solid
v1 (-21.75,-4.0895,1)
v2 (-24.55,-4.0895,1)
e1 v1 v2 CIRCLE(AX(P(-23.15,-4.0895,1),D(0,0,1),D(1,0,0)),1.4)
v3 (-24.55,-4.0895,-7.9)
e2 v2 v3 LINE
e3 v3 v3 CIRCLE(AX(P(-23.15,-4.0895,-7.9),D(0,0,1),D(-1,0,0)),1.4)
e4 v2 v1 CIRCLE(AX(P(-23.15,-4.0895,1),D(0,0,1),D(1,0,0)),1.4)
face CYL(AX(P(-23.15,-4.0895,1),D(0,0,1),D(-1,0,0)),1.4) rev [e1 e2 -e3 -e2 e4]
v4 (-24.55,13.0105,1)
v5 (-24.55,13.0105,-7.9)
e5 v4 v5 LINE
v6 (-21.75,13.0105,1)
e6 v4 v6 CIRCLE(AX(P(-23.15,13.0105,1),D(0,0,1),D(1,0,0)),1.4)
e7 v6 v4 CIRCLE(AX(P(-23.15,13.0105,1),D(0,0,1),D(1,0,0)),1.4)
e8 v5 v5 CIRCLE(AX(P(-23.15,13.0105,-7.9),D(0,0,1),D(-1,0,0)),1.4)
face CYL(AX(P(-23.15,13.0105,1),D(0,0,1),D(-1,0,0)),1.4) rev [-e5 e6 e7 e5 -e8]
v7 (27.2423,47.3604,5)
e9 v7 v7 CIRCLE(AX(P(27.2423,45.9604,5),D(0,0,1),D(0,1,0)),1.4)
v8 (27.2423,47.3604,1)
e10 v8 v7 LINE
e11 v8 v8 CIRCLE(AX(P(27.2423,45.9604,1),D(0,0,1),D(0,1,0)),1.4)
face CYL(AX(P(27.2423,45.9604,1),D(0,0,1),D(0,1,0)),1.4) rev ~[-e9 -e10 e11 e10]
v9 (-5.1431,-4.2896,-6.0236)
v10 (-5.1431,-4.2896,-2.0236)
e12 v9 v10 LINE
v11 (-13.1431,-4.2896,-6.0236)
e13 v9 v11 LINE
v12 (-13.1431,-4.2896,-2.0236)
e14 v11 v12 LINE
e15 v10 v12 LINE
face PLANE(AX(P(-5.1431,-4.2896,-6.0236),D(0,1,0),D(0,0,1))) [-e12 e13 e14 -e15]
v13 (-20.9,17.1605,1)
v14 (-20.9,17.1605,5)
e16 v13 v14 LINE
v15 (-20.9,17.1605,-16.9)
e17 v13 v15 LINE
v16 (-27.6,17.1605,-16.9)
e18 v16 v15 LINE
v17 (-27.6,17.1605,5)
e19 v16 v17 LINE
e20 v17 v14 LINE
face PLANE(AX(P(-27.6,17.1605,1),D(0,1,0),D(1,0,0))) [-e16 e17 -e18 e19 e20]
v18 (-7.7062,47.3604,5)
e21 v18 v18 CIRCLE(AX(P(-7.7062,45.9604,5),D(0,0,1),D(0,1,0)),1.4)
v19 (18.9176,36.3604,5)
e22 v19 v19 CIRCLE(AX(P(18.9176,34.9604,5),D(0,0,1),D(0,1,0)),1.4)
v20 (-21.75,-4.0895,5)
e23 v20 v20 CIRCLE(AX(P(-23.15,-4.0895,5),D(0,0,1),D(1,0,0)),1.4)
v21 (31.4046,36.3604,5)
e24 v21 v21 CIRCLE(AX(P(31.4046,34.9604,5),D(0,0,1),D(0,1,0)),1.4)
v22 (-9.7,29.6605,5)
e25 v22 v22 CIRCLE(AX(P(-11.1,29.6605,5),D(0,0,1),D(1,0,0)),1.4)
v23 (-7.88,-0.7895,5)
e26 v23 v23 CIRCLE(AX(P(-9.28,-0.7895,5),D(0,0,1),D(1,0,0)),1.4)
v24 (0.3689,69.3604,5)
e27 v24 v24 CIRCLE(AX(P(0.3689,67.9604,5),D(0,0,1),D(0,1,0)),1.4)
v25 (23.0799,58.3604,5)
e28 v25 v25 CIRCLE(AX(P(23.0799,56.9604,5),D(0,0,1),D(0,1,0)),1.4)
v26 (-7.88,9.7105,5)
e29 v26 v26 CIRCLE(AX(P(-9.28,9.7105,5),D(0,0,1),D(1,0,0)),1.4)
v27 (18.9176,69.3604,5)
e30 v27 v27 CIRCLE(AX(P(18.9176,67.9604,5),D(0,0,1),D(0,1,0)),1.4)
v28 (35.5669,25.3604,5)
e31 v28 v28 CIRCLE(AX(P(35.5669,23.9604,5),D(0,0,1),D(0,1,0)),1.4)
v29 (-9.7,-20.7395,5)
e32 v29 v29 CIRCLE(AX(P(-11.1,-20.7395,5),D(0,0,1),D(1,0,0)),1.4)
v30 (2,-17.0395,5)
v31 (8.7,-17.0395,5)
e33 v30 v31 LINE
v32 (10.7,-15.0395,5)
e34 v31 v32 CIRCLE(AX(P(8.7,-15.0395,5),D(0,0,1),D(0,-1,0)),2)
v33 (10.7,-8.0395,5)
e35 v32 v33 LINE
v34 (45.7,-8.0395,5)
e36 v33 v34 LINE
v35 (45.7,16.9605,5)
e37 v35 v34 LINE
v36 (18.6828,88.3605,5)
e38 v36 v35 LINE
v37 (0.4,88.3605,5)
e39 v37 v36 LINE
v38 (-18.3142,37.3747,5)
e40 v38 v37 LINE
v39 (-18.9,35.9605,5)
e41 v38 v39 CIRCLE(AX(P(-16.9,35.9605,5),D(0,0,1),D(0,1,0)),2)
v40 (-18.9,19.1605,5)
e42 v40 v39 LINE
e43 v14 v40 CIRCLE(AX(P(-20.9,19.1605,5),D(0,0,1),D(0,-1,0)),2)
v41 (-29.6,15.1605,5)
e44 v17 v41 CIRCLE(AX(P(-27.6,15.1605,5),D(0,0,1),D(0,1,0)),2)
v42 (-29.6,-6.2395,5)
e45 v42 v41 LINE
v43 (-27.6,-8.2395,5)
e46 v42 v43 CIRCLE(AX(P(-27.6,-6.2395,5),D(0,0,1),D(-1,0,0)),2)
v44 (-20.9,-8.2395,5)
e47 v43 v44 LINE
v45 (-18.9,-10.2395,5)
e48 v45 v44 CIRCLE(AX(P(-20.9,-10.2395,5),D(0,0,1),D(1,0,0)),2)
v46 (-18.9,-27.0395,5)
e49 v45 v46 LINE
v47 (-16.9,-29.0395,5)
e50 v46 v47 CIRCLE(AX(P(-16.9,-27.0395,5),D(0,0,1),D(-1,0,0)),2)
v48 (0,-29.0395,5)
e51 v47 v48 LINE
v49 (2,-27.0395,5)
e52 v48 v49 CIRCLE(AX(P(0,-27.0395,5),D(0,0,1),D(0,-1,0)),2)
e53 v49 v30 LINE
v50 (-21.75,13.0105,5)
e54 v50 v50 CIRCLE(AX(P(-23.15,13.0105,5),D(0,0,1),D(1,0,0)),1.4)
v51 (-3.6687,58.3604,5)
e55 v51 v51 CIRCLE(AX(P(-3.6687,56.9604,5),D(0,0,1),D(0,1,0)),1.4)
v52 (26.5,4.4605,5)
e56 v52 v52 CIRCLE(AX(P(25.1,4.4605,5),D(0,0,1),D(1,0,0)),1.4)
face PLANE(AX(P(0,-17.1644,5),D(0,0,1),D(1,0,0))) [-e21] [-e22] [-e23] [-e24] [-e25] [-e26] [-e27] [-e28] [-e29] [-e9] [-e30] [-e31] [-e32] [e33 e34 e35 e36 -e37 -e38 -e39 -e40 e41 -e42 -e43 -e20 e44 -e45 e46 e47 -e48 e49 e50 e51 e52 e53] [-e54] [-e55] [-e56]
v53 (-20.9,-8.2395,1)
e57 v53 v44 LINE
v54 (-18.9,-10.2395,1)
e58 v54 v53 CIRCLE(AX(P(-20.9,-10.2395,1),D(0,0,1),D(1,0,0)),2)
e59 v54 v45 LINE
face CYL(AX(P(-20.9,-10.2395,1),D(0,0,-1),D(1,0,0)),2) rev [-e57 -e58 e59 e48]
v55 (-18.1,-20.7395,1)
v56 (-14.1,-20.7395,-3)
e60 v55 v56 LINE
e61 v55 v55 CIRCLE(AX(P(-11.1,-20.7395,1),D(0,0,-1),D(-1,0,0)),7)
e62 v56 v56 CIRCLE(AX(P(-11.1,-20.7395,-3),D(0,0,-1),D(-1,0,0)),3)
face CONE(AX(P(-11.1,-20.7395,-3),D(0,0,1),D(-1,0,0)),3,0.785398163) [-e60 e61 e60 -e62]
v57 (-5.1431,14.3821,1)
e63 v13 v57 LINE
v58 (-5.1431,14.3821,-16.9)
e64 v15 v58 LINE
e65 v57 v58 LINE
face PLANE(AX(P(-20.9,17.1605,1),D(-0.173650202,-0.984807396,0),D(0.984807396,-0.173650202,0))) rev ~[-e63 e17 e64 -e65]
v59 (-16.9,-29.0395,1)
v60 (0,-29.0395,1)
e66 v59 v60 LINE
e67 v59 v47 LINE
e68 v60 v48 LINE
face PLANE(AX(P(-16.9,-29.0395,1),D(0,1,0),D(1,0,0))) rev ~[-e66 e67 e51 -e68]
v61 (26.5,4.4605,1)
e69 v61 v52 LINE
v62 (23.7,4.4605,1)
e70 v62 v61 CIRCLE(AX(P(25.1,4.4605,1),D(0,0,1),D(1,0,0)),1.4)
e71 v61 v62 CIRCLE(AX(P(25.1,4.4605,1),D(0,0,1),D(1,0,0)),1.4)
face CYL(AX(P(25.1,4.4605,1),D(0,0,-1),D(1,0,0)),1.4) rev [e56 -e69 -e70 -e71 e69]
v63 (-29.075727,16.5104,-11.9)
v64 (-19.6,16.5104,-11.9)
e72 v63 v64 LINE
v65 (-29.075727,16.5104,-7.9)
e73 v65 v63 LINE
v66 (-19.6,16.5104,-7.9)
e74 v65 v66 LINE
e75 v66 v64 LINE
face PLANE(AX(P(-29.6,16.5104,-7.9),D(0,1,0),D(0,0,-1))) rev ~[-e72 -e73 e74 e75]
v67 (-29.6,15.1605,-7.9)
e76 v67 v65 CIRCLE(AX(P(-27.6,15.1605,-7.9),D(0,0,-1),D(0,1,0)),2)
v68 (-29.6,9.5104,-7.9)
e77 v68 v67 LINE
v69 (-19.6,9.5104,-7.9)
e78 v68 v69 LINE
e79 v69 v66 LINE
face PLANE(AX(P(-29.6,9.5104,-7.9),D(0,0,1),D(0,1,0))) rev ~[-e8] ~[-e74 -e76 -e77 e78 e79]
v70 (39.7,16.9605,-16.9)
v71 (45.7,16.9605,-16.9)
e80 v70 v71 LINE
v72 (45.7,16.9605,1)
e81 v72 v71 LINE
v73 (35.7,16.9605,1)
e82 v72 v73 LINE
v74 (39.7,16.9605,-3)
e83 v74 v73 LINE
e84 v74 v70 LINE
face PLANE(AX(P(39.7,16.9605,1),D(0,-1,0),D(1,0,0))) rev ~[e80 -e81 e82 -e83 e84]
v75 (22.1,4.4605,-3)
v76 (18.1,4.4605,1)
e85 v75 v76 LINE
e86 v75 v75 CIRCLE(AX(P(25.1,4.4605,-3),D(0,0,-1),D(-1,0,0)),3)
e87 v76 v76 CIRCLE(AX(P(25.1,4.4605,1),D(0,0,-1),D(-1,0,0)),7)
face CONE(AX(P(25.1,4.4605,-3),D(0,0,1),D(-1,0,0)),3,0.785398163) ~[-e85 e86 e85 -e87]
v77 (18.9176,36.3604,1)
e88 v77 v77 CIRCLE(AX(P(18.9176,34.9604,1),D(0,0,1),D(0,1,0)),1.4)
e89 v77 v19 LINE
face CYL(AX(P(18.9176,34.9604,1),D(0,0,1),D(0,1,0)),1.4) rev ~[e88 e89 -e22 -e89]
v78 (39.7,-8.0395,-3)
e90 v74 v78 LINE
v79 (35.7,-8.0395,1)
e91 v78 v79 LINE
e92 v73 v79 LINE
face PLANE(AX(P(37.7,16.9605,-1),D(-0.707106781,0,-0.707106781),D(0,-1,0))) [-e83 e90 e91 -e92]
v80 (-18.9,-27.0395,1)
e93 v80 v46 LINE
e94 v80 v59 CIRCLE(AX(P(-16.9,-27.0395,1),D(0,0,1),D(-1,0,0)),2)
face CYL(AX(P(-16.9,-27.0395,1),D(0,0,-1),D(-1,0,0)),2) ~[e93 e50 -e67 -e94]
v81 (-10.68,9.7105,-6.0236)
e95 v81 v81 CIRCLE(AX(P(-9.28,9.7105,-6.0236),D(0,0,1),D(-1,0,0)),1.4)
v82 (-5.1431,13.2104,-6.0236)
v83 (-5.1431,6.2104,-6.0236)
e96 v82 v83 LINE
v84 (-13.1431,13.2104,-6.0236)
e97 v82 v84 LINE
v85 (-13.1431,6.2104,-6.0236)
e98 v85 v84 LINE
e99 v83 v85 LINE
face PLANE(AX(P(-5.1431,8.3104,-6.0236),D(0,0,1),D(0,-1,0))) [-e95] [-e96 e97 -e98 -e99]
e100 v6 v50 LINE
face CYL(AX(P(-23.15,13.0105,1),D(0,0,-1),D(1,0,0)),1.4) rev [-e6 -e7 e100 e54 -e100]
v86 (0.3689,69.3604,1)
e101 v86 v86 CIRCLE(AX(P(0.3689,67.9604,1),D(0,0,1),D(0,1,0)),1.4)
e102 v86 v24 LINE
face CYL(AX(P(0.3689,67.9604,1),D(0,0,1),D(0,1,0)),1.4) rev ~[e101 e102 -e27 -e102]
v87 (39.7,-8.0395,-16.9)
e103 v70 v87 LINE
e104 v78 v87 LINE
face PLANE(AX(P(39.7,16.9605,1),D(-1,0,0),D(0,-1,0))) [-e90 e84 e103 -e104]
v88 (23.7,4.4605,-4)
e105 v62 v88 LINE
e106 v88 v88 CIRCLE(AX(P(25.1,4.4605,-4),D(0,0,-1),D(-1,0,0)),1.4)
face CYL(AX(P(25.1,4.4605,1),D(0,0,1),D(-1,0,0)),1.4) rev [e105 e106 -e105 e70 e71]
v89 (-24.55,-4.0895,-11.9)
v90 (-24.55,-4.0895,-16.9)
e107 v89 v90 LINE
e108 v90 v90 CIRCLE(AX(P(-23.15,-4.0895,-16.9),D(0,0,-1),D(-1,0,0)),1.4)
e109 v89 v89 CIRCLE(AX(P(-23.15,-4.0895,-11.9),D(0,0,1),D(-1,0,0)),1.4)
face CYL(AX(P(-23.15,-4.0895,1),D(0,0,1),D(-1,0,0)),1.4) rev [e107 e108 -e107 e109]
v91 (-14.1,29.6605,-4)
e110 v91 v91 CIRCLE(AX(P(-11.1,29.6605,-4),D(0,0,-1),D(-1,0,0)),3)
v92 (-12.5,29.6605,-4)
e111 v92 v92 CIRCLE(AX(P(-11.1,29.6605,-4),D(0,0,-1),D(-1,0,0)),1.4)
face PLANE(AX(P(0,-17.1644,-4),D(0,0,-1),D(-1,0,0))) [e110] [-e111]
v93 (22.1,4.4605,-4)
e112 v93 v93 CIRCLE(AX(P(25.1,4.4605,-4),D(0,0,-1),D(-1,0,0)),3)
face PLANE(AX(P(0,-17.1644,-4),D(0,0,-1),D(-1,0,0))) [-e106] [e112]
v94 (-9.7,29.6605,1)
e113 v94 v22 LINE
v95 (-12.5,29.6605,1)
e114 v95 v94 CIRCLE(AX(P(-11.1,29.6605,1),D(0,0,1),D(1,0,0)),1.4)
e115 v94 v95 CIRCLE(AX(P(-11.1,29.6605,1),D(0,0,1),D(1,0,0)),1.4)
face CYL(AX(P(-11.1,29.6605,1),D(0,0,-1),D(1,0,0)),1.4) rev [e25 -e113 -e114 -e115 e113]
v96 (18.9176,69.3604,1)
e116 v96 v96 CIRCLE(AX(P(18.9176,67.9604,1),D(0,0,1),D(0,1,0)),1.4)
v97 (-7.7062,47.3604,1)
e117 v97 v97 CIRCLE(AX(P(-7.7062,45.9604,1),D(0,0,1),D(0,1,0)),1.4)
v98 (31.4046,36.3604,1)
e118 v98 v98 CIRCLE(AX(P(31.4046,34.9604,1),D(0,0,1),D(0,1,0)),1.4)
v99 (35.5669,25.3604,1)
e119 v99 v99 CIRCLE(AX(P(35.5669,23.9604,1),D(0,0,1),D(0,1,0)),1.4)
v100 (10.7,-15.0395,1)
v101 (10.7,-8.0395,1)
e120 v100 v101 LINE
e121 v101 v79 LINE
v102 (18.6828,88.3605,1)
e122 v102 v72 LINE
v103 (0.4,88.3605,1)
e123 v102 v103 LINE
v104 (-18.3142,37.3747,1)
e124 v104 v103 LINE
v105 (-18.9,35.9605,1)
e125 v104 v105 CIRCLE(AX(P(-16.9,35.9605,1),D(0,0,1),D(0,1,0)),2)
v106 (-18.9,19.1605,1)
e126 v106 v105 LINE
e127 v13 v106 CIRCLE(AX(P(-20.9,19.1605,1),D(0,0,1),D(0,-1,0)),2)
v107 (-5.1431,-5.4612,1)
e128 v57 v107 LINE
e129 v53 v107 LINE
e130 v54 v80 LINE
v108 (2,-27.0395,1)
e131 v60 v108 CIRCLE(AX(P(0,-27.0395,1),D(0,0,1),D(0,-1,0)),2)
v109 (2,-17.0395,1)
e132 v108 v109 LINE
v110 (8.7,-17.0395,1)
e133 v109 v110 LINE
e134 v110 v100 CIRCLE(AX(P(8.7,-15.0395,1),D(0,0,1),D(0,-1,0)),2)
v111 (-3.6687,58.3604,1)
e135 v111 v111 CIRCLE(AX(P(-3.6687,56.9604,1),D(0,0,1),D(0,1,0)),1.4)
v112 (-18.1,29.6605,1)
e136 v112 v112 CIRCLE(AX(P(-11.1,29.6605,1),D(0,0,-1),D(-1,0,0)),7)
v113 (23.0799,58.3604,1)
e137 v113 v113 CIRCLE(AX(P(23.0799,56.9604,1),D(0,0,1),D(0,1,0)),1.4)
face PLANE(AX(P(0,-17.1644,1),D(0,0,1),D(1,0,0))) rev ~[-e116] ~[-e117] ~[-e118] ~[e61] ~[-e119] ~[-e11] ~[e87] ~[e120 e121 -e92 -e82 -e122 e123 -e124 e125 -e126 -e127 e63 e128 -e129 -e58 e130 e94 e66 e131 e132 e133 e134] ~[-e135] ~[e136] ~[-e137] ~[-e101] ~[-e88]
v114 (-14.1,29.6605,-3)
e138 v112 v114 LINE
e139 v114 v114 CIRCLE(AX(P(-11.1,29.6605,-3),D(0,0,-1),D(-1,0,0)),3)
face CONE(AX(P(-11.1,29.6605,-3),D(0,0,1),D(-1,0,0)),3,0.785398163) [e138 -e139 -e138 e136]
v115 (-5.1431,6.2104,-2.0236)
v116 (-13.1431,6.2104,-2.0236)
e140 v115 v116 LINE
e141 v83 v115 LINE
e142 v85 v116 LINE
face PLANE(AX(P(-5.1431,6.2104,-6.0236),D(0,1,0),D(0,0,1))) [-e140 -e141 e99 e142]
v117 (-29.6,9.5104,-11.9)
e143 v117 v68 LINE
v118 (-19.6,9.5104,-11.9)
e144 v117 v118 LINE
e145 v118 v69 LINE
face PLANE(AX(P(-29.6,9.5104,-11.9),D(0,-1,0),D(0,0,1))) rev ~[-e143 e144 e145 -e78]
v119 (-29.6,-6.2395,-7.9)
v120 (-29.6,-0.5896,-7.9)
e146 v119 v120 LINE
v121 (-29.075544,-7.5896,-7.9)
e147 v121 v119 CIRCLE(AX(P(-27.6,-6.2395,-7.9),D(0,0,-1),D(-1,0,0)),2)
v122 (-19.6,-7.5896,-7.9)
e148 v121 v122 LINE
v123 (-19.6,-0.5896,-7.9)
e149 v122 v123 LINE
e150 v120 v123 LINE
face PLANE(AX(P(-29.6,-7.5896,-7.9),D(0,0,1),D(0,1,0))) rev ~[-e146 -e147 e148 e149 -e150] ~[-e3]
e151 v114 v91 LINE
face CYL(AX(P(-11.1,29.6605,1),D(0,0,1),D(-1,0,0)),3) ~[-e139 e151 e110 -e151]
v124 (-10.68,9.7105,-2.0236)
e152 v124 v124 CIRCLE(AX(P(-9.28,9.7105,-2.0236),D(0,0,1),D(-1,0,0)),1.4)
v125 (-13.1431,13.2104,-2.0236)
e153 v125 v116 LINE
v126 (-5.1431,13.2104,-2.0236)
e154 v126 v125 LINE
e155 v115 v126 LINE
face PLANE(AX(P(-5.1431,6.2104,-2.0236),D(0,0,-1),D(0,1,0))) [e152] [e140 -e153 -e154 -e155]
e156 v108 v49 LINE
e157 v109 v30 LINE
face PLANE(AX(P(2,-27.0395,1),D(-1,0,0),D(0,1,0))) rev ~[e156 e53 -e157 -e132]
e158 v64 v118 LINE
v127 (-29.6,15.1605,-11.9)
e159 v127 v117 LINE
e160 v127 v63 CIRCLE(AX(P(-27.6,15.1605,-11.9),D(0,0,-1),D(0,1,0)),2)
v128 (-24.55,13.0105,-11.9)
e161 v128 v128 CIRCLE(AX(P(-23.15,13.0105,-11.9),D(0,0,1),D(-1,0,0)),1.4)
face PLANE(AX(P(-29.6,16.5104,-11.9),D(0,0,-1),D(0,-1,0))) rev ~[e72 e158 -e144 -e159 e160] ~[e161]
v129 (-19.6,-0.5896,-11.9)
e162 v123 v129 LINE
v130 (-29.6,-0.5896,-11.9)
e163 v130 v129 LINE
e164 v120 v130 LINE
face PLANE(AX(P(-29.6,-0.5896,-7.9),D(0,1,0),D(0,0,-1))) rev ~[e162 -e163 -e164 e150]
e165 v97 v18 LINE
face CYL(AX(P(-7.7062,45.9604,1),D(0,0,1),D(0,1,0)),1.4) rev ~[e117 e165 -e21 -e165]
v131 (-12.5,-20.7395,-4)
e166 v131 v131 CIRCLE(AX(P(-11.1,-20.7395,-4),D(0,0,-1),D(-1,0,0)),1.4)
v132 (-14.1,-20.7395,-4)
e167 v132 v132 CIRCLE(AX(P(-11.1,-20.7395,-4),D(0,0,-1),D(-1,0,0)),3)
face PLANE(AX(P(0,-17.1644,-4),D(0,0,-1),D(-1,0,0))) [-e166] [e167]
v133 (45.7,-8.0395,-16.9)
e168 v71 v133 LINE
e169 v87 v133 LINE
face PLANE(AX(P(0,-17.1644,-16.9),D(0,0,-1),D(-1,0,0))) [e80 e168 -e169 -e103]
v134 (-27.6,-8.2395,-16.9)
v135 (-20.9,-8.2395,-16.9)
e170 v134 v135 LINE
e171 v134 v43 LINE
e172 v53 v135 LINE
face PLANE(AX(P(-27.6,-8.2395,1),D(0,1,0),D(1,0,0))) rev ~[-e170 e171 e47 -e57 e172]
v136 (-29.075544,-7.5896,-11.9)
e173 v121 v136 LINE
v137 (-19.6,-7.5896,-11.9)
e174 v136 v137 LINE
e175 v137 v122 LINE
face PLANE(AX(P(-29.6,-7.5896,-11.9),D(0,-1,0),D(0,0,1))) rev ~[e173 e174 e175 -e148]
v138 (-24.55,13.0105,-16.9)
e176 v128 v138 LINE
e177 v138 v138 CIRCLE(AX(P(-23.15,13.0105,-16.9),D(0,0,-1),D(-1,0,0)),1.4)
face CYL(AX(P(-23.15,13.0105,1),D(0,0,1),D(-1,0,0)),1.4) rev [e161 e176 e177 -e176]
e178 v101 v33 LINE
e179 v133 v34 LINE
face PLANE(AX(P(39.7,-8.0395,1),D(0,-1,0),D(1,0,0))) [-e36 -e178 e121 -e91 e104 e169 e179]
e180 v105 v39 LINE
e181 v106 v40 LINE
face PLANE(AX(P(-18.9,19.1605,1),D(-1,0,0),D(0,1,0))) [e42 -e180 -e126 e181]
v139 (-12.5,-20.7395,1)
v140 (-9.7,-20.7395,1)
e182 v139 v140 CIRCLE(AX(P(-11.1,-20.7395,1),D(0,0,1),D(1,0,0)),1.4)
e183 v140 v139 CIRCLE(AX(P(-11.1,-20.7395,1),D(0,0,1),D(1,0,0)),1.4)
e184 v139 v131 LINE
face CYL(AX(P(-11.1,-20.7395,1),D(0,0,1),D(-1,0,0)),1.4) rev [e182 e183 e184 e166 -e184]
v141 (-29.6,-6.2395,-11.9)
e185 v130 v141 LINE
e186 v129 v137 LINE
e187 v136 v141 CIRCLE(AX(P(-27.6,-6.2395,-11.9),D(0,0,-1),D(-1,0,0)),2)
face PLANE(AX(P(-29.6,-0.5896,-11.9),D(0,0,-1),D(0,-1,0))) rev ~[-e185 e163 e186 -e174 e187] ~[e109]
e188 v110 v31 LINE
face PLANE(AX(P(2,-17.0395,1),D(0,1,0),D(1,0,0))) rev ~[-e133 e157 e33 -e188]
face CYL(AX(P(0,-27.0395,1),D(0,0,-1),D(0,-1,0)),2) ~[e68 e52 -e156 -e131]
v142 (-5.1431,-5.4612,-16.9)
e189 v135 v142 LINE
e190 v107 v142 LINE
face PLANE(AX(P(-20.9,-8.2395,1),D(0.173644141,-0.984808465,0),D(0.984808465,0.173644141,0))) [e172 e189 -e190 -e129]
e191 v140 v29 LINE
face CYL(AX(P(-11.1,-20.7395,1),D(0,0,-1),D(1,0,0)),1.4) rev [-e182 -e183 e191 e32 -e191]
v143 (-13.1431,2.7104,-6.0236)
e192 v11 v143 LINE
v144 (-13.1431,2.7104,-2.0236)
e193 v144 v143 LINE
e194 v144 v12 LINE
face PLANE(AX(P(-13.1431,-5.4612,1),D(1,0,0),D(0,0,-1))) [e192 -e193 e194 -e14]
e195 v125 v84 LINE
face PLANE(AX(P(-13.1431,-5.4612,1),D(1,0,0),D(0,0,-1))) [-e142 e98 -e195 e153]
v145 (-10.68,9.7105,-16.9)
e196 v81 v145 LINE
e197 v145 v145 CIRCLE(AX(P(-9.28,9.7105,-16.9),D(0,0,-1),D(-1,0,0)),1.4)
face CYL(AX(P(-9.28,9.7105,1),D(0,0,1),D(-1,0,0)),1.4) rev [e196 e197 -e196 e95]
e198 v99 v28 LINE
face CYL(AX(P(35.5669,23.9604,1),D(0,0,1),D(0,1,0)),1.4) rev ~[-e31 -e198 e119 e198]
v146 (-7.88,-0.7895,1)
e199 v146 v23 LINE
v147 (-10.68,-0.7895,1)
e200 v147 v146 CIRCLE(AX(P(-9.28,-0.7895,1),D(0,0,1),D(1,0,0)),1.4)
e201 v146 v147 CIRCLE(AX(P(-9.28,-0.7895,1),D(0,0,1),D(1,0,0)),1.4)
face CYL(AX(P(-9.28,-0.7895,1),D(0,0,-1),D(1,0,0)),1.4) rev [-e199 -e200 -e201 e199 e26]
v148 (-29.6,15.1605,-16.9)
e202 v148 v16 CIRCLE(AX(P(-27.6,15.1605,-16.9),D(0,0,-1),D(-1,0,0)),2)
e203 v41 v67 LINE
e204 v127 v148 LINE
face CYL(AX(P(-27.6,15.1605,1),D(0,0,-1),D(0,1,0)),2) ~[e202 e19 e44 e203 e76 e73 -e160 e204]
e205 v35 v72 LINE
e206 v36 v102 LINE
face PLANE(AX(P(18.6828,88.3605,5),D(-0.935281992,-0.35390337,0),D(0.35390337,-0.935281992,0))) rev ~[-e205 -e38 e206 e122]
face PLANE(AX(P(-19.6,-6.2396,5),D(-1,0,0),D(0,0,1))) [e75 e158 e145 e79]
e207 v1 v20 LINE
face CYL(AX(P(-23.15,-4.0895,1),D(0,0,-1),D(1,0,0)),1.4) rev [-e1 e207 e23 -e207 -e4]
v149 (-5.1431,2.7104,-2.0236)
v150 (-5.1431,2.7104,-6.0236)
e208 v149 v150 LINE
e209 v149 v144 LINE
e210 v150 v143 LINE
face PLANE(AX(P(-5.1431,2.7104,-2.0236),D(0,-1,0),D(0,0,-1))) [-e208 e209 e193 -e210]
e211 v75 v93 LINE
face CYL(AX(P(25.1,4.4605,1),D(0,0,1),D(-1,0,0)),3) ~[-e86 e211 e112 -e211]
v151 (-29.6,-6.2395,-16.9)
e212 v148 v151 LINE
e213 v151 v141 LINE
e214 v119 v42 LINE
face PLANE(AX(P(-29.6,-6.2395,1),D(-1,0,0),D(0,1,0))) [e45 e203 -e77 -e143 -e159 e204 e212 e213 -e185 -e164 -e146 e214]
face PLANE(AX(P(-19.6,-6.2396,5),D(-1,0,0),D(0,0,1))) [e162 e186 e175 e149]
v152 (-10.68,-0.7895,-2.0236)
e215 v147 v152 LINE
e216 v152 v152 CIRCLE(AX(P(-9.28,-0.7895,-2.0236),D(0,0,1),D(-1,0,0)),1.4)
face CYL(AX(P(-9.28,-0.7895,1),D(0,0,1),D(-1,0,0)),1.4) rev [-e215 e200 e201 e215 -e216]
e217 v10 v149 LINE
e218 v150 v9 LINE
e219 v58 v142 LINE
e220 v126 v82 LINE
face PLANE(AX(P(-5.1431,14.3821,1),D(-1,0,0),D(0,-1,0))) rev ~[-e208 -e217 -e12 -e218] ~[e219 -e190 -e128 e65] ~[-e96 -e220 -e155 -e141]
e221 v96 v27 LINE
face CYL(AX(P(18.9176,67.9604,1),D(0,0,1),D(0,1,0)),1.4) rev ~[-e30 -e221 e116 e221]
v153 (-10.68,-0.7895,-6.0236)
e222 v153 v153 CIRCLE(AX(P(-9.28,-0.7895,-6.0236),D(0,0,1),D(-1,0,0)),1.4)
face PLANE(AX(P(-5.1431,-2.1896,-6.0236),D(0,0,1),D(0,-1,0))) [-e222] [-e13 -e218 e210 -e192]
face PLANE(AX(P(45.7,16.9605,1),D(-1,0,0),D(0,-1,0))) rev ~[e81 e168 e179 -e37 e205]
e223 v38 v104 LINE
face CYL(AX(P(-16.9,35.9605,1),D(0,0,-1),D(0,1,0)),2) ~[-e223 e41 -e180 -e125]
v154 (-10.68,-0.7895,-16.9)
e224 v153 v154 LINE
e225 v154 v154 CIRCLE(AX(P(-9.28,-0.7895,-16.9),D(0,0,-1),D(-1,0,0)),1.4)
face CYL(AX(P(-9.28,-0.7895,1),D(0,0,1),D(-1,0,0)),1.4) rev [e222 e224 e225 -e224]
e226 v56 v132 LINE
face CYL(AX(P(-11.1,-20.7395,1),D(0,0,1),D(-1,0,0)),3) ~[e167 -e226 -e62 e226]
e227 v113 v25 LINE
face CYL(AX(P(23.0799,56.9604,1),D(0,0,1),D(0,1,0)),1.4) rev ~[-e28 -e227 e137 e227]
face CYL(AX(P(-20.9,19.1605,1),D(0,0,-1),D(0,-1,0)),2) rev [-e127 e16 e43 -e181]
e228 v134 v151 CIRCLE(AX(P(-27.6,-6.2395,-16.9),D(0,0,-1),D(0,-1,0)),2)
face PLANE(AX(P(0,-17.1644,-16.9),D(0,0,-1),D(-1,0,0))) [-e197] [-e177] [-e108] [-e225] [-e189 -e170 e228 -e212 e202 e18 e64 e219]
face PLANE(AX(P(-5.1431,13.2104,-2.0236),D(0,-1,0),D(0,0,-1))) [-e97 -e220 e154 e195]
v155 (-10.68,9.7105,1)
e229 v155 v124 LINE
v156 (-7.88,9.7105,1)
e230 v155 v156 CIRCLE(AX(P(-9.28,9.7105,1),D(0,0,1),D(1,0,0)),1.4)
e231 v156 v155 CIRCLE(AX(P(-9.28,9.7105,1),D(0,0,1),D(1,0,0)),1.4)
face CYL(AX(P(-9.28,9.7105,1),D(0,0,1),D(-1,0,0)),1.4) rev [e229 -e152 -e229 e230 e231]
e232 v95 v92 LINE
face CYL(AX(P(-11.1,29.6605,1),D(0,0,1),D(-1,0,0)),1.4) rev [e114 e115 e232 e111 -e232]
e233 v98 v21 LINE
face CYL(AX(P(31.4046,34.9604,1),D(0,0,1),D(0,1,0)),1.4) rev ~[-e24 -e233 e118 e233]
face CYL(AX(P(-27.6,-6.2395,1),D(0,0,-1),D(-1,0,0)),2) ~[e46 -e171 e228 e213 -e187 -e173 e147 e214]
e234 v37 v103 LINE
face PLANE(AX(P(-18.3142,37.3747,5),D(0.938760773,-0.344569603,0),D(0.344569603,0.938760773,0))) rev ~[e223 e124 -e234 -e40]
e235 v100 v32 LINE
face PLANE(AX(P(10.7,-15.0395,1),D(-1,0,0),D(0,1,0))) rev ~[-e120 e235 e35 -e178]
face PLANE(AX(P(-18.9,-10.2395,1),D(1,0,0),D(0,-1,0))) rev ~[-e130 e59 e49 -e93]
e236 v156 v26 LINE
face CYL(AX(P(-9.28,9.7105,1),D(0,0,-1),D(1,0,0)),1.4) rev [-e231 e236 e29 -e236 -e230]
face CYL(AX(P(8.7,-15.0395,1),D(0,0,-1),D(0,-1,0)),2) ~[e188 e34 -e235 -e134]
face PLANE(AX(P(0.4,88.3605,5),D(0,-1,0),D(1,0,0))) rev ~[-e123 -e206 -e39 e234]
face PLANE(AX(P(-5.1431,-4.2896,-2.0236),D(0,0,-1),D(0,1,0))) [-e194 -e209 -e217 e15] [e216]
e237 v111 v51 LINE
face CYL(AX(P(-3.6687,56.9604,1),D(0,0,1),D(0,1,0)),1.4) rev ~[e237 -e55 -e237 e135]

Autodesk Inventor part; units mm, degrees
ref_plane "YZ Plane" through (0, 0, 0) normal (1, 0, 0) x (0, 1, 0)
ref_plane "Work Plane1" through (0, -17.1644, 1) normal (0, 0, 1) x (1, 0, 0)
sketch "Sketch1" plane through (0, -17.1644, 1) normal (0, 0, 1) x (1, 0, 0)
  circle A0 centre (25.1, 21.6249) radius 2.5 projected
  circle A1 centre (-23.15, 13.0749) radius 1.6 projected
  circle A2 centre (-9.28, 16.3749) radius 1.6 projected
  circle A3 centre (-11.1, -3.5751) radius 2.5 projected
  circle A4 centre (-11.1, 46.8249) radius 2.5 projected
  circle A5 centre (-9.28, 26.8749) radius 1.6 projected
  circle A6 centre (-23.15, 30.1749) radius 1.6 projected
  line L0 (-29.6, 10.9249) -> (-29.6, 32.3249) projected
  arc A7 (-29.6, 10.9249) -> (-27.6, 8.9249) centre (-27.6, 10.9249) ccw projected
  line L1 (-27.6, 8.9249) -> (-20.9, 8.9249) projected
  arc A8 (-18.9, 6.9249) -> (-20.9, 8.9249) centre (-20.9, 6.9249) ccw projected
  line L2 (-18.9, 6.9249) -> (-18.9, -9.8751) projected
  arc A9 (-18.9, -9.8751) -> (-16.9, -11.8751) centre (-16.9, -9.8751) ccw projected
  line L3 (-16.9, -11.8751) -> (0, -11.8751) projected
  arc A10 (0, -11.8751) -> (2, -9.8751) centre (0, -9.8751) ccw projected
  line L4 (2, -9.8751) -> (2, 0.1249) projected
  line L5 (2, 0.1249) -> (8.7, 0.1249) projected
  arc A11 (8.7, 0.1249) -> (10.7, 2.1249) centre (8.7, 2.1249) ccw projected
  line L6 (10.7, 2.1249) -> (10.7, 9.1249) projected
  line L7 (10.7, 9.1249) -> (45.7, 9.1249) projected
  line L8 (45.7, 34.1249) -> (45.7, 9.1249) projected
  line L9 (10.7, 34.1249) -> (45.7, 34.1249) projected
  line L10 (10.7, 41.1249) -> (10.7, 34.1249) projected
  arc A12 (10.7, 41.1249) -> (8.7, 43.1249) centre (8.7, 41.1249) ccw projected
  line L11 (2, 43.1249) -> (8.7, 43.1249) projected
  line L12 (2, 53.1249) -> (2, 43.1249) projected
  arc A13 (2, 53.1249) -> (0, 55.1249) centre (0, 53.1249) ccw projected
  line L13 (-16.9, 55.1249) -> (0, 55.1249) projected
  arc A14 (-16.9, 55.1249) -> (-18.9, 53.1249) centre (-16.9, 53.1249) ccw projected
  line L14 (-18.9, 36.3249) -> (-18.9, 53.1249) projected
  arc A15 (-20.9, 34.3249) -> (-18.9, 36.3249) centre (-20.9, 36.3249) ccw projected
  line L15 (-27.6, 34.3249) -> (-20.9, 34.3249) projected
  arc A16 (-27.6, 34.3249) -> (-29.6, 32.3249) centre (-27.6, 32.3249) ccw projected
  circle A17 centre (-11.1, -3.5751) radius 1.4
  circle A18 centre (-11.1, 46.8249) radius 1.4
  circle A19 centre (25.1, 21.6249) radius 1.4
  circle A20 centre (-23.15, 13.0749) radius 1.4
  circle A21 centre (-23.15, 30.1749) radius 1.4
  circle A22 centre (-9.28, 16.3749) radius 1.4
  circle A23 centre (-9.28, 26.8749) radius 1.4
  point P0 (0, 17.1644)
  dimension "d0" = 2.8
  dimension "d1" = 2.8
  dimension "d2" = 2.8
  dimension "d17" = 2.8
  dimension "d18" = 2.8
  dimension "d19" = 2.8
  dimension "d20" = 2.8
extrude "Extrusion1" add sketch "Sketch1" along normal blind 4 contours A0 | A1 | A2 | A3 | A4 | A5 | A6 | L0 A16 L15 A15 L14 A14 L13 A13 L12 L11 A12 L10 L9 L8 L7 L6 A11 L5 L4 A10 L3 A9 L2 A8 L1 A7
sketch "Sketch2" plane through (0, -17.1644, 1) normal (0, 0, -1) x (-1, 0, 0)
  line L0 (29.6, 32.3249) -> (29.6, 10.9249) projected
  arc A0 (29.6, 32.3249) -> (27.6, 34.3249) centre (27.6, 32.3249) ccw projected
  line L1 (27.6, 34.3249) -> (20.9, 34.3249) projected
  arc A1 (18.9, 36.3249) -> (20.9, 34.3249) centre (20.9, 36.3249) ccw projected
  line L2 (18.9, 36.3249) -> (18.9, 53.1249) projected
  arc A2 (18.9, 53.1249) -> (16.9, 55.1249) centre (16.9, 53.1249) ccw projected
  line L3 (16.9, 55.1249) -> (0, 55.1249) projected
  arc A3 (0, 55.1249) -> (-2, 53.1249) centre (0, 53.1249) ccw projected
  line L4 (-2, 53.1249) -> (-2, 43.1249) projected
  line L5 (-2, 43.1249) -> (-8.7, 43.1249) projected
  arc A4 (-8.7, 43.1249) -> (-10.7, 41.1249) centre (-8.7, 41.1249) ccw projected
  line L6 (-10.7, 41.1249) -> (-10.7, 34.1249) projected
  line L7 (-10.7, 34.1249) -> (-45.7, 34.1249) projected
  line L8 (-45.7, 34.1249) -> (-45.7, 9.1249) projected
  line L9 (-10.7, 9.1249) -> (-45.7, 9.1249) projected
  line L10 (-10.7, 2.1249) -> (-10.7, 9.1249) projected
  arc A5 (-10.7, 2.1249) -> (-8.7, 0.1249) centre (-8.7, 2.1249) ccw projected
  line L11 (-2, 0.1249) -> (-8.7, 0.1249) projected
  line L12 (-2, -9.8751) -> (-2, 0.1249) projected
  arc A6 (-2, -9.8751) -> (0, -11.8751) centre (0, -9.8751) ccw projected
  line L13 (16.9, -11.8751) -> (0, -11.8751) projected
  arc A7 (16.9, -11.8751) -> (18.9, -9.8751) centre (16.9, -9.8751) ccw projected
  line L14 (18.9, 6.9249) -> (18.9, -9.8751) projected
  arc A8 (20.9, 8.9249) -> (18.9, 6.9249) centre (20.9, 6.9249) ccw projected
  line L15 (27.6, 8.9249) -> (20.9, 8.9249) projected
  arc A9 (27.6, 8.9249) -> (29.6, 10.9249) centre (27.6, 10.9249) ccw projected
  circle A10 centre (23.15, 13.0749) radius 1.6 projected
  circle A11 centre (9.28, 16.3749) radius 1.6 projected
  circle A12 centre (11.1, -3.5751) radius 2.5 projected
  circle A13 centre (11.1, 46.8249) radius 2.5 projected
  circle A14 centre (9.28, 26.8749) radius 1.6 projected
  circle A15 centre (23.15, 30.1749) radius 1.6 projected
  circle A16 centre (-25.1, 21.6249) radius 2.5 projected
  line L16 (20.9, 8.9249) -> (5.1431, 11.7032)
  line L17 (20.9, 8.9249) -> (36.9, 8.9249) construction
  line L18 (20.9, 34.3249) -> (5.1431, 31.5465)
  line L19 (20.9, 34.3249) -> (36.9, 34.3249) construction
  line L20 (5.1431, 31.5465) -> (5.1431, 11.7032)
  circle A17 centre (23.15, 30.1749) radius 1.4 projected
  circle A18 centre (23.15, 13.0749) radius 1.4 projected
  circle A19 centre (9.28, 16.3749) radius 1.4 projected
  circle A20 centre (9.28, 26.8749) radius 1.4 projected
  point P0 (0, 17.1644)
  dimension "d5" = 16
  dimension "d6" = 170
  dimension "d7" = 16
  dimension "d8" = 170
ref_plane "Work Plane2" through (-50.9629, -34.1365, -16.9) normal (0, 0, 1) x (0.751, -0.6603, 0)
extrude "Extrusion2" add sketch "Sketch2" along normal up to surface (17.9 mm away) contours L0 A9 L15 L16 L20 L18 L1 A0 | A10 | A11 | A14 | A15
sketch "Sketch3" plane through (-5.1431, -5.4612, 1) normal (1, 0, 0) x (0, 0, -1)
  line L0 (7.0236, 11.6716) -> (3.0236, 11.6716)
  line L1 (3.0236, 11.6716) -> (3.0236, 18.6716)
  line L2 (3.0236, 18.6716) -> (7.0236, 18.6716)
  line L3 (7.0236, 18.6716) -> (7.0236, 11.6716)
  line L4 (7.0236, 11.6716) -> (3.0236, 18.6716) construction
  line L5 (3.0236, 11.6716) -> (7.0236, 18.6716) construction
  line L6 (7.0236, 1.1716) -> (3.0236, 1.1716)
  line L7 (3.0236, 1.1716) -> (3.0236, 8.1716)
  line L8 (3.0236, 8.1716) -> (7.0236, 8.1716)
  line L9 (7.0236, 8.1716) -> (7.0236, 1.1716)
  line L10 (7.0236, 1.1716) -> (3.0236, 8.1716) construction
  line L11 (3.0236, 1.1716) -> (7.0236, 8.1716) construction
  line L12 (17.9, 3.2716) -> (-4, 3.2716) projected
  line L13 (17.9, 6.0716) -> (-4, 6.0716) projected
  line L14 (17.9, 13.7716) -> (-4, 13.7716) projected
  line L15 (17.9, 16.5716) -> (-4, 16.5716) projected
  point P0 (1, 5.4612)
  point P1 (5.0236, 15.1716)
  point P2 (5.0236, 4.6716)
  dimension "d11" = 4
  dimension "d12" = 7
  dimension "d13" = 4
  dimension "d14" = 7
  dimension "d22" = 1.4
  dimension "d23" = 1.4
extrude "Extrusion3" cut sketch "Sketch3" against normal blind 8
sketch "Sketch4" plane through (-29.6, -6.2396, 5) normal (-1, 0, 0) x (0, 0, 1)
  line L0 (-19.9, 20.85) -> (-24.6, 20.85)
  line L1 (-19.9, 17.65) -> (-24.6, 17.65)
  line L2 (-24.6, 3.75) -> (-19.9, 3.75)
  line L3 (-24.6, 0.55) -> (-19.9, 0.55)
  line L4 (-12.9, 22.75) -> (-16.9, 22.75)
  line L5 (-16.9, 22.75) -> (-16.9, 15.75)
  line L6 (-16.9, 15.75) -> (-12.9, 15.75)
  line L7 (-12.9, 15.75) -> (-12.9, 22.75)
  line L8 (-12.9, 22.75) -> (-16.9, 15.75) construction
  line L9 (-16.9, 22.75) -> (-12.9, 15.75) construction
  line L10 (-16.9, -1.35) -> (-12.9, -1.35)
  line L11 (-12.9, -1.35) -> (-12.9, 5.65)
  line L12 (-12.9, 5.65) -> (-16.9, 5.65)
  line L13 (-16.9, 5.65) -> (-16.9, -1.35)
  line L14 (-16.9, -1.35) -> (-12.9, 5.65) construction
  line L15 (-12.9, -1.35) -> (-16.9, 5.65) construction
  line L16 (-21.9, 0) -> (-21.9, 21.4) projected
  point P0 (-5, 6.2396)
  point P1 (-14.9, 19.25)
  point P2 (-14.9, 2.15)
  dimension "d26" = 4
  dimension "d27" = 7
  dimension "d28" = 4
  dimension "d29" = 7
  dimension "d30" = 1.6
  dimension "d31" = 1.6
  dimension "d32" = 5
  dimension "d33" = 5
extrude "Extrusion4" cut sketch "Sketch4" against normal blind 10
sketch "Sketch5" plane through (0, -17.1644, 1) normal (0, 0, -1) x (-1, 0, 0)
  circle A0 centre (11.1, 46.8249) radius 1.4 projected
  circle A1 centre (11.1, -3.5751) radius 1.4 projected
  circle A2 centre (11.1, 46.8249) radius 3
  circle A3 centre (11.1, -3.5751) radius 3
  circle A4 centre (-25.1, 21.6249) radius 1.4 projected
  circle A5 centre (-25.1, 21.6249) radius 3
  point P0 (0, 17.1644)
  dimension "d36" = 6
  dimension "d37" = 6
  dimension "d38" = 6
extrude "Extrusion5" add sketch "Sketch5" along normal blind 5
chamfer "Chamfer1" distance 4 angle 45 3 edges at (-8.1, 29.6604, 1) (-8.1, -20.7396, 1) (28.1, 4.4604, 1)
sketch "Sketch6" plane through (0, -17.1644, 1) normal (0, 0, -1) x (-1, 0, 0)
  line L0 (29.6, 32.3249) -> (29.6, 10.9249) projected
  arc A0 (29.6, 32.3249) -> (27.6, 34.3249) centre (27.6, 32.3249) ccw projected
  line L1 (27.6, 34.3249) -> (20.9, 34.3249) projected
  arc A1 (18.9, 36.3249) -> (20.9, 34.3249) centre (20.9, 36.3249) ccw projected
  line L2 (18.9, 36.3249) -> (18.9, 53.1249) projected
  arc A2 (18.9, 53.1249) -> (16.9, 55.1249) centre (16.9, 53.1249) ccw projected
  line L3 (16.9, 55.1249) -> (0, 55.1249) projected
  arc A3 (0, 55.1249) -> (-2, 53.1249) centre (0, 53.1249) ccw projected
  line L4 (-2, 53.1249) -> (-2, 43.1249) projected
  line L5 (-2, 43.1249) -> (-8.7, 43.1249) projected
  arc A4 (-8.7, 43.1249) -> (-10.7, 41.1249) centre (-8.7, 41.1249) ccw projected
  line L6 (-10.7, 41.1249) -> (-10.7, 34.1249) projected
  line L7 (-10.7, 34.1249) -> (-45.7, 34.1249) projected
  line L8 (-45.7, 34.1249) -> (-45.7, 9.1249) projected
  line L9 (-10.7, 9.1249) -> (-45.7, 9.1249) projected
  line L10 (-10.7, 2.1249) -> (-10.7, 9.1249) projected
  arc A5 (-10.7, 2.1249) -> (-8.7, 0.1249) centre (-8.7, 2.1249) ccw projected
  line L11 (-2, 0.1249) -> (-8.7, 0.1249) projected
  line L12 (-2, -9.8751) -> (-2, 0.1249) projected
  arc A6 (-2, -9.8751) -> (0, -11.8751) centre (0, -9.8751) ccw projected
  line L13 (16.9, -11.8751) -> (0, -11.8751) projected
  arc A7 (16.9, -11.8751) -> (18.9, -9.8751) centre (16.9, -9.8751) ccw projected
  line L14 (18.9, 6.9249) -> (18.9, -9.8751) projected
  arc A8 (20.9, 8.9249) -> (18.9, 6.9249) centre (20.9, 6.9249) ccw projected
  line L15 (27.6, 8.9249) -> (20.9, 8.9249) projected
  arc A9 (27.6, 8.9249) -> (29.6, 10.9249) centre (27.6, 10.9249) ccw projected
  circle A10 centre (23.15, 13.0749) radius 1.6 projected
  circle A11 centre (9.28, 16.3749) radius 1.6 projected
  circle A12 centre (11.1, -3.5751) radius 2.5 projected
  circle A13 centre (11.1, 46.8249) radius 2.5 projected
  circle A14 centre (9.28, 26.8749) radius 1.6 projected
  circle A15 centre (23.15, 30.1749) radius 1.6 projected
  circle A16 centre (-25.1, 21.6249) radius 2.5 projected
  line L16 (-10.7, 34.1249) -> (-45.7, 34.1249) projected
  line L17 (-45.7, 9.1249) -> (-10.7, 9.1249) projected
  line L18 (-45.7, 34.1249) -> (-39.7, 34.1249)
  line L19 (-39.7, 34.1249) -> (-39.7, 9.1249)
  line L20 (-39.7, 9.1249) -> (-45.7, 9.1249)
  line L21 (-45.7, 9.1249) -> (-45.7, 34.1249)
  point P0 (0, 17.1644)
  dimension "d44" = 6
ref_plane "Work Plane3" through (-50.9629, -34.1365, -16.9) normal (0, 0, 1) x (0.751, -0.6603, 0)
extrude "Extrusion6" add sketch "Sketch6" along normal up to surface (17.9 mm away) contours L19 L9 L8 L7
chamfer "Chamfer2" distance 4 angle 45 1 edges at (39.7, 4.4604, 1)
sketch "Sketch7" plane through (0, -17.1644, 5) normal (0, 0, 1) x (1, 0, 0)
  circle A0 centre (-11.1, 46.8249) radius 1.4 projected
  circle A1 centre (-11.1, -3.5751) radius 1.4 projected
  circle A2 centre (25.1, 21.6249) radius 1.4 projected
  circle A3 centre (-23.15, 30.1749) radius 1.4 projected
  circle A4 centre (-9.28, 26.8749) radius 1.4 projected
  circle A5 centre (-9.28, 16.3749) radius 1.4 projected
  circle A6 centre (-23.15, 13.0749) radius 1.4 projected
  line L0 (-29.6, 32.3249) -> (-29.6, 10.9249) projected
  arc A7 (-29.6, 10.9249) -> (-27.6, 8.9249) centre (-27.6, 10.9249) ccw projected
  line L1 (-27.6, 8.9249) -> (-20.9, 8.9249) projected
  arc A8 (-18.9, 6.9249) -> (-20.9, 8.9249) centre (-20.9, 6.9249) ccw projected
  line L2 (-18.9, 6.9249) -> (-18.9, -9.8751) projected
  arc A9 (-18.9, -9.8751) -> (-16.9, -11.8751) centre (-16.9, -9.8751) ccw projected
  line L3 (-16.9, -11.8751) -> (0, -11.8751) projected
  arc A10 (0, -11.8751) -> (2, -9.8751) centre (0, -9.8751) ccw projected
  line L4 (2, -9.8751) -> (2, 0.1249) projected
  line L5 (2, 0.1249) -> (8.7, 0.1249) projected
  arc A11 (8.7, 0.1249) -> (10.7, 2.1249) centre (8.7, 2.1249) ccw projected
  line L6 (10.7, 2.1249) -> (10.7, 9.1249) projected
  line L7 (10.7, 9.1249) -> (45.7, 9.1249) projected
  line L8 (45.7, 9.1249) -> (45.7, 34.1249) projected
  line L9 (45.7, 34.1249) -> (10.7, 34.1249) projected
  line L10 (10.7, 34.1249) -> (10.7, 41.1249) projected
  arc A12 (10.7, 41.1249) -> (8.7, 43.1249) centre (8.7, 41.1249) ccw projected
  line L11 (8.7, 43.1249) -> (2, 43.1249) projected
  line L12 (2, 43.1249) -> (2, 53.1249) projected
  arc A13 (2, 53.1249) -> (0, 55.1249) centre (0, 53.1249) ccw projected
  line L13 (0, 55.1249) -> (-16.9, 55.1249) projected
  arc A14 (-16.9, 55.1249) -> (-18.9, 53.1249) centre (-16.9, 53.1249) ccw projected
  line L14 (-18.9, 53.1249) -> (-18.9, 36.3249) projected
  arc A15 (-20.9, 34.3249) -> (-18.9, 36.3249) centre (-20.9, 36.3249) ccw projected
  line L15 (-20.9, 34.3249) -> (-27.6, 34.3249) projected
  arc A16 (-27.6, 34.3249) -> (-29.6, 32.3249) centre (-27.6, 32.3249) ccw projected
  arc A17 (-16.9, 55.1249) -> (-18.9, 53.1249) centre (-16.9, 53.1249) ccw projected
  line L16 (-18.3142, 54.5391) -> (0.4, 105.5249)
  line L17 (0.4, 105.5249) -> (18.6828, 105.5249)
  line L18 (45.7, 9.1249) -> (45.7, 34.1249) projected
  line L19 (18.6828, 105.5249) -> (45.7, 34.1249)
  line L20 (45.7, 34.1249) -> (45.7, 9.1249)
  line L21 (45.7, 9.1249) -> (10.7, 9.1249)
  line L22 (15.9, 105.5249) -> (-23.6275, 105.5249) construction
  line L23 (-23.6275, 7.9249) -> (15.9, 7.9249) construction
  circle A18 centre (-14.28, 15.3749) radius 1.4 projected
  circle A19 centre (-14.28, 25.8749) radius 1.4 projected
  circle A20 centre (-12.7062, 62.1249) radius 1.4 projected
  circle A21 centre (-8.6687, 73.1249) radius 1.4 projected
  circle A22 centre (-4.6311, 84.1249) radius 1.4 projected
  circle A23 centre (-16.1, 45.8249) radius 6 projected
  line L24 (-23.6275, 7.9249) -> (-23.6275, 105.5249) projected
  line L25 (15.9, 7.9249) -> (15.9, 105.5249) projected
  point P0 (0, 17.1644)
  point P1 (45.7, 16.0196)
  point P2 (45.7, 15.9249)
  point P3 (15.9, 9.9249)
extrude "Extrusion7" add sketch "Sketch7" against normal up to surface (4 mm away) contours L16 L17 L25 L9 L10 A12 L11 L12 A13 L13 A14 | L17 L19 L9 L25 | A20 | A21 | A22
sketch "Sketch8" plane through (0, -17.1644, 1) normal (0, 0, -1) x (-1, 0, 0)
  line L0 (-35.7, 9.1249) -> (-35.7, 34.1249) projected
  line L1 (-35.7, 9.1249) -> (-10.7, 9.1249) projected
  line L2 (-10.7, 9.1249) -> (-10.7, 2.1249) projected
  arc A0 (-10.7, 2.1249) -> (-8.7, 0.1249) centre (-8.7, 2.1249) ccw projected
  line L3 (-8.7, 0.1249) -> (-2, 0.1249) projected
  line L4 (-2, 0.1249) -> (-2, -9.8751) projected
  arc A1 (-2, -9.8751) -> (0, -11.8751) centre (0, -9.8751) ccw projected
  line L5 (0, -11.8751) -> (16.9, -11.8751) projected
  arc A2 (16.9, -11.8751) -> (18.9, -9.8751) centre (16.9, -9.8751) ccw projected
  line L6 (18.9, -9.8751) -> (18.9, 6.9249) projected
  arc A3 (20.9, 8.9249) -> (18.9, 6.9249) centre (20.9, 6.9249) ccw projected
  line L7 (20.9, 8.9249) -> (5.1431, 11.7032) projected
  line L8 (5.1431, 11.7032) -> (5.1431, 31.5465) projected
  line L9 (5.1431, 31.5465) -> (20.9, 34.3249) projected
  arc A4 (18.9, 36.3249) -> (20.9, 34.3249) centre (20.9, 36.3249) ccw projected
  line L10 (18.9, 36.3249) -> (18.9, 53.1249) projected
  arc A5 (18.9, 53.1249) -> (18.3142, 54.5391) centre (16.9, 53.1249) ccw projected
  line L11 (18.3142, 54.5391) -> (-0.4, 105.5249) projected
  line L12 (-0.4, 105.5249) -> (-18.6828, 105.5249) projected
  line L13 (-18.6828, 105.5249) -> (-45.7, 34.1249) projected
  line L14 (-35.7, 34.1249) -> (-45.7, 34.1249) projected
  circle A6 centre (-25.1, 21.6249) radius 7 projected
  circle A7 centre (11.1, 46.8249) radius 7 projected
  circle A8 centre (11.1, -3.5751) radius 7 projected
  line L15 (-35.5669, 41.1249) -> (-13.8472, 98.5249)
  line L16 (-13.8472, 98.5249) -> (-5.2873, 98.5249)
  line L17 (-5.2873, 98.5249) -> (11.9, 51.6991)
  line L18 (11.9, 51.6991) -> (11.9, 39.8459)
  line L19 (11.9, 39.8459) -> (-1.8569, 37.4202)
  line L20 (-1.8569, 37.4202) -> (-1.8569, 5.8295)
  line L21 (-1.8569, 5.8295) -> (11.9, 3.4038)
  line L22 (11.9, 3.4038) -> (11.9, -4.8751)
  line L23 (11.9, -4.8751) -> (5, -4.8751)
  line L24 (5, -4.8751) -> (5, 7.1249)
  line L25 (5, 7.1249) -> (-3.7, 7.1249)
  line L26 (-3.7, 7.1249) -> (-3.7, 16.1249)
  line L27 (-3.7, 16.1249) -> (-28.7, 16.1249)
  line L28 (-28.7, 16.1249) -> (-28.7, 41.1249)
  line L29 (-28.7, 41.1249) -> (-35.5669, 41.1249)
  point P0 (0, 17.1644)
  point P1 (-18.9176, 85.1249)
  point P2 (-23.0799, 74.1249)
  point P3 (-27.2423, 63.1249)
  point P4 (-31.4046, 52.1249)
  point P5 (7.7062, 63.1249)
  point P6 (3.6687, 74.1249)
  point P7 (-0.3689, 85.1249)
  point P8 (-18.9176, 52.1249)
  dimension "d53" = 7
  dimension "d54" = 11
  dimension "d55" = 11
  dimension "d56" = 11
  dimension "d57" = 11
hole "Hole1" at (18.9176, 67.9604, 1) at (23.0799, 56.9604, 1) at (27.2423, 45.9604, 1) at (31.4046, 34.9604, 1) at (35.5669, 23.9604, 1) at (-7.7062, 45.9604, 1) at (-3.6687, 56.9604, 1) at (0.3689, 67.9604, 1) at (18.9176, 34.9604, 1) direction (0, 0, 1) diameter 2.8 end through all
properties part number "Neje_Support_Slider_Y"
